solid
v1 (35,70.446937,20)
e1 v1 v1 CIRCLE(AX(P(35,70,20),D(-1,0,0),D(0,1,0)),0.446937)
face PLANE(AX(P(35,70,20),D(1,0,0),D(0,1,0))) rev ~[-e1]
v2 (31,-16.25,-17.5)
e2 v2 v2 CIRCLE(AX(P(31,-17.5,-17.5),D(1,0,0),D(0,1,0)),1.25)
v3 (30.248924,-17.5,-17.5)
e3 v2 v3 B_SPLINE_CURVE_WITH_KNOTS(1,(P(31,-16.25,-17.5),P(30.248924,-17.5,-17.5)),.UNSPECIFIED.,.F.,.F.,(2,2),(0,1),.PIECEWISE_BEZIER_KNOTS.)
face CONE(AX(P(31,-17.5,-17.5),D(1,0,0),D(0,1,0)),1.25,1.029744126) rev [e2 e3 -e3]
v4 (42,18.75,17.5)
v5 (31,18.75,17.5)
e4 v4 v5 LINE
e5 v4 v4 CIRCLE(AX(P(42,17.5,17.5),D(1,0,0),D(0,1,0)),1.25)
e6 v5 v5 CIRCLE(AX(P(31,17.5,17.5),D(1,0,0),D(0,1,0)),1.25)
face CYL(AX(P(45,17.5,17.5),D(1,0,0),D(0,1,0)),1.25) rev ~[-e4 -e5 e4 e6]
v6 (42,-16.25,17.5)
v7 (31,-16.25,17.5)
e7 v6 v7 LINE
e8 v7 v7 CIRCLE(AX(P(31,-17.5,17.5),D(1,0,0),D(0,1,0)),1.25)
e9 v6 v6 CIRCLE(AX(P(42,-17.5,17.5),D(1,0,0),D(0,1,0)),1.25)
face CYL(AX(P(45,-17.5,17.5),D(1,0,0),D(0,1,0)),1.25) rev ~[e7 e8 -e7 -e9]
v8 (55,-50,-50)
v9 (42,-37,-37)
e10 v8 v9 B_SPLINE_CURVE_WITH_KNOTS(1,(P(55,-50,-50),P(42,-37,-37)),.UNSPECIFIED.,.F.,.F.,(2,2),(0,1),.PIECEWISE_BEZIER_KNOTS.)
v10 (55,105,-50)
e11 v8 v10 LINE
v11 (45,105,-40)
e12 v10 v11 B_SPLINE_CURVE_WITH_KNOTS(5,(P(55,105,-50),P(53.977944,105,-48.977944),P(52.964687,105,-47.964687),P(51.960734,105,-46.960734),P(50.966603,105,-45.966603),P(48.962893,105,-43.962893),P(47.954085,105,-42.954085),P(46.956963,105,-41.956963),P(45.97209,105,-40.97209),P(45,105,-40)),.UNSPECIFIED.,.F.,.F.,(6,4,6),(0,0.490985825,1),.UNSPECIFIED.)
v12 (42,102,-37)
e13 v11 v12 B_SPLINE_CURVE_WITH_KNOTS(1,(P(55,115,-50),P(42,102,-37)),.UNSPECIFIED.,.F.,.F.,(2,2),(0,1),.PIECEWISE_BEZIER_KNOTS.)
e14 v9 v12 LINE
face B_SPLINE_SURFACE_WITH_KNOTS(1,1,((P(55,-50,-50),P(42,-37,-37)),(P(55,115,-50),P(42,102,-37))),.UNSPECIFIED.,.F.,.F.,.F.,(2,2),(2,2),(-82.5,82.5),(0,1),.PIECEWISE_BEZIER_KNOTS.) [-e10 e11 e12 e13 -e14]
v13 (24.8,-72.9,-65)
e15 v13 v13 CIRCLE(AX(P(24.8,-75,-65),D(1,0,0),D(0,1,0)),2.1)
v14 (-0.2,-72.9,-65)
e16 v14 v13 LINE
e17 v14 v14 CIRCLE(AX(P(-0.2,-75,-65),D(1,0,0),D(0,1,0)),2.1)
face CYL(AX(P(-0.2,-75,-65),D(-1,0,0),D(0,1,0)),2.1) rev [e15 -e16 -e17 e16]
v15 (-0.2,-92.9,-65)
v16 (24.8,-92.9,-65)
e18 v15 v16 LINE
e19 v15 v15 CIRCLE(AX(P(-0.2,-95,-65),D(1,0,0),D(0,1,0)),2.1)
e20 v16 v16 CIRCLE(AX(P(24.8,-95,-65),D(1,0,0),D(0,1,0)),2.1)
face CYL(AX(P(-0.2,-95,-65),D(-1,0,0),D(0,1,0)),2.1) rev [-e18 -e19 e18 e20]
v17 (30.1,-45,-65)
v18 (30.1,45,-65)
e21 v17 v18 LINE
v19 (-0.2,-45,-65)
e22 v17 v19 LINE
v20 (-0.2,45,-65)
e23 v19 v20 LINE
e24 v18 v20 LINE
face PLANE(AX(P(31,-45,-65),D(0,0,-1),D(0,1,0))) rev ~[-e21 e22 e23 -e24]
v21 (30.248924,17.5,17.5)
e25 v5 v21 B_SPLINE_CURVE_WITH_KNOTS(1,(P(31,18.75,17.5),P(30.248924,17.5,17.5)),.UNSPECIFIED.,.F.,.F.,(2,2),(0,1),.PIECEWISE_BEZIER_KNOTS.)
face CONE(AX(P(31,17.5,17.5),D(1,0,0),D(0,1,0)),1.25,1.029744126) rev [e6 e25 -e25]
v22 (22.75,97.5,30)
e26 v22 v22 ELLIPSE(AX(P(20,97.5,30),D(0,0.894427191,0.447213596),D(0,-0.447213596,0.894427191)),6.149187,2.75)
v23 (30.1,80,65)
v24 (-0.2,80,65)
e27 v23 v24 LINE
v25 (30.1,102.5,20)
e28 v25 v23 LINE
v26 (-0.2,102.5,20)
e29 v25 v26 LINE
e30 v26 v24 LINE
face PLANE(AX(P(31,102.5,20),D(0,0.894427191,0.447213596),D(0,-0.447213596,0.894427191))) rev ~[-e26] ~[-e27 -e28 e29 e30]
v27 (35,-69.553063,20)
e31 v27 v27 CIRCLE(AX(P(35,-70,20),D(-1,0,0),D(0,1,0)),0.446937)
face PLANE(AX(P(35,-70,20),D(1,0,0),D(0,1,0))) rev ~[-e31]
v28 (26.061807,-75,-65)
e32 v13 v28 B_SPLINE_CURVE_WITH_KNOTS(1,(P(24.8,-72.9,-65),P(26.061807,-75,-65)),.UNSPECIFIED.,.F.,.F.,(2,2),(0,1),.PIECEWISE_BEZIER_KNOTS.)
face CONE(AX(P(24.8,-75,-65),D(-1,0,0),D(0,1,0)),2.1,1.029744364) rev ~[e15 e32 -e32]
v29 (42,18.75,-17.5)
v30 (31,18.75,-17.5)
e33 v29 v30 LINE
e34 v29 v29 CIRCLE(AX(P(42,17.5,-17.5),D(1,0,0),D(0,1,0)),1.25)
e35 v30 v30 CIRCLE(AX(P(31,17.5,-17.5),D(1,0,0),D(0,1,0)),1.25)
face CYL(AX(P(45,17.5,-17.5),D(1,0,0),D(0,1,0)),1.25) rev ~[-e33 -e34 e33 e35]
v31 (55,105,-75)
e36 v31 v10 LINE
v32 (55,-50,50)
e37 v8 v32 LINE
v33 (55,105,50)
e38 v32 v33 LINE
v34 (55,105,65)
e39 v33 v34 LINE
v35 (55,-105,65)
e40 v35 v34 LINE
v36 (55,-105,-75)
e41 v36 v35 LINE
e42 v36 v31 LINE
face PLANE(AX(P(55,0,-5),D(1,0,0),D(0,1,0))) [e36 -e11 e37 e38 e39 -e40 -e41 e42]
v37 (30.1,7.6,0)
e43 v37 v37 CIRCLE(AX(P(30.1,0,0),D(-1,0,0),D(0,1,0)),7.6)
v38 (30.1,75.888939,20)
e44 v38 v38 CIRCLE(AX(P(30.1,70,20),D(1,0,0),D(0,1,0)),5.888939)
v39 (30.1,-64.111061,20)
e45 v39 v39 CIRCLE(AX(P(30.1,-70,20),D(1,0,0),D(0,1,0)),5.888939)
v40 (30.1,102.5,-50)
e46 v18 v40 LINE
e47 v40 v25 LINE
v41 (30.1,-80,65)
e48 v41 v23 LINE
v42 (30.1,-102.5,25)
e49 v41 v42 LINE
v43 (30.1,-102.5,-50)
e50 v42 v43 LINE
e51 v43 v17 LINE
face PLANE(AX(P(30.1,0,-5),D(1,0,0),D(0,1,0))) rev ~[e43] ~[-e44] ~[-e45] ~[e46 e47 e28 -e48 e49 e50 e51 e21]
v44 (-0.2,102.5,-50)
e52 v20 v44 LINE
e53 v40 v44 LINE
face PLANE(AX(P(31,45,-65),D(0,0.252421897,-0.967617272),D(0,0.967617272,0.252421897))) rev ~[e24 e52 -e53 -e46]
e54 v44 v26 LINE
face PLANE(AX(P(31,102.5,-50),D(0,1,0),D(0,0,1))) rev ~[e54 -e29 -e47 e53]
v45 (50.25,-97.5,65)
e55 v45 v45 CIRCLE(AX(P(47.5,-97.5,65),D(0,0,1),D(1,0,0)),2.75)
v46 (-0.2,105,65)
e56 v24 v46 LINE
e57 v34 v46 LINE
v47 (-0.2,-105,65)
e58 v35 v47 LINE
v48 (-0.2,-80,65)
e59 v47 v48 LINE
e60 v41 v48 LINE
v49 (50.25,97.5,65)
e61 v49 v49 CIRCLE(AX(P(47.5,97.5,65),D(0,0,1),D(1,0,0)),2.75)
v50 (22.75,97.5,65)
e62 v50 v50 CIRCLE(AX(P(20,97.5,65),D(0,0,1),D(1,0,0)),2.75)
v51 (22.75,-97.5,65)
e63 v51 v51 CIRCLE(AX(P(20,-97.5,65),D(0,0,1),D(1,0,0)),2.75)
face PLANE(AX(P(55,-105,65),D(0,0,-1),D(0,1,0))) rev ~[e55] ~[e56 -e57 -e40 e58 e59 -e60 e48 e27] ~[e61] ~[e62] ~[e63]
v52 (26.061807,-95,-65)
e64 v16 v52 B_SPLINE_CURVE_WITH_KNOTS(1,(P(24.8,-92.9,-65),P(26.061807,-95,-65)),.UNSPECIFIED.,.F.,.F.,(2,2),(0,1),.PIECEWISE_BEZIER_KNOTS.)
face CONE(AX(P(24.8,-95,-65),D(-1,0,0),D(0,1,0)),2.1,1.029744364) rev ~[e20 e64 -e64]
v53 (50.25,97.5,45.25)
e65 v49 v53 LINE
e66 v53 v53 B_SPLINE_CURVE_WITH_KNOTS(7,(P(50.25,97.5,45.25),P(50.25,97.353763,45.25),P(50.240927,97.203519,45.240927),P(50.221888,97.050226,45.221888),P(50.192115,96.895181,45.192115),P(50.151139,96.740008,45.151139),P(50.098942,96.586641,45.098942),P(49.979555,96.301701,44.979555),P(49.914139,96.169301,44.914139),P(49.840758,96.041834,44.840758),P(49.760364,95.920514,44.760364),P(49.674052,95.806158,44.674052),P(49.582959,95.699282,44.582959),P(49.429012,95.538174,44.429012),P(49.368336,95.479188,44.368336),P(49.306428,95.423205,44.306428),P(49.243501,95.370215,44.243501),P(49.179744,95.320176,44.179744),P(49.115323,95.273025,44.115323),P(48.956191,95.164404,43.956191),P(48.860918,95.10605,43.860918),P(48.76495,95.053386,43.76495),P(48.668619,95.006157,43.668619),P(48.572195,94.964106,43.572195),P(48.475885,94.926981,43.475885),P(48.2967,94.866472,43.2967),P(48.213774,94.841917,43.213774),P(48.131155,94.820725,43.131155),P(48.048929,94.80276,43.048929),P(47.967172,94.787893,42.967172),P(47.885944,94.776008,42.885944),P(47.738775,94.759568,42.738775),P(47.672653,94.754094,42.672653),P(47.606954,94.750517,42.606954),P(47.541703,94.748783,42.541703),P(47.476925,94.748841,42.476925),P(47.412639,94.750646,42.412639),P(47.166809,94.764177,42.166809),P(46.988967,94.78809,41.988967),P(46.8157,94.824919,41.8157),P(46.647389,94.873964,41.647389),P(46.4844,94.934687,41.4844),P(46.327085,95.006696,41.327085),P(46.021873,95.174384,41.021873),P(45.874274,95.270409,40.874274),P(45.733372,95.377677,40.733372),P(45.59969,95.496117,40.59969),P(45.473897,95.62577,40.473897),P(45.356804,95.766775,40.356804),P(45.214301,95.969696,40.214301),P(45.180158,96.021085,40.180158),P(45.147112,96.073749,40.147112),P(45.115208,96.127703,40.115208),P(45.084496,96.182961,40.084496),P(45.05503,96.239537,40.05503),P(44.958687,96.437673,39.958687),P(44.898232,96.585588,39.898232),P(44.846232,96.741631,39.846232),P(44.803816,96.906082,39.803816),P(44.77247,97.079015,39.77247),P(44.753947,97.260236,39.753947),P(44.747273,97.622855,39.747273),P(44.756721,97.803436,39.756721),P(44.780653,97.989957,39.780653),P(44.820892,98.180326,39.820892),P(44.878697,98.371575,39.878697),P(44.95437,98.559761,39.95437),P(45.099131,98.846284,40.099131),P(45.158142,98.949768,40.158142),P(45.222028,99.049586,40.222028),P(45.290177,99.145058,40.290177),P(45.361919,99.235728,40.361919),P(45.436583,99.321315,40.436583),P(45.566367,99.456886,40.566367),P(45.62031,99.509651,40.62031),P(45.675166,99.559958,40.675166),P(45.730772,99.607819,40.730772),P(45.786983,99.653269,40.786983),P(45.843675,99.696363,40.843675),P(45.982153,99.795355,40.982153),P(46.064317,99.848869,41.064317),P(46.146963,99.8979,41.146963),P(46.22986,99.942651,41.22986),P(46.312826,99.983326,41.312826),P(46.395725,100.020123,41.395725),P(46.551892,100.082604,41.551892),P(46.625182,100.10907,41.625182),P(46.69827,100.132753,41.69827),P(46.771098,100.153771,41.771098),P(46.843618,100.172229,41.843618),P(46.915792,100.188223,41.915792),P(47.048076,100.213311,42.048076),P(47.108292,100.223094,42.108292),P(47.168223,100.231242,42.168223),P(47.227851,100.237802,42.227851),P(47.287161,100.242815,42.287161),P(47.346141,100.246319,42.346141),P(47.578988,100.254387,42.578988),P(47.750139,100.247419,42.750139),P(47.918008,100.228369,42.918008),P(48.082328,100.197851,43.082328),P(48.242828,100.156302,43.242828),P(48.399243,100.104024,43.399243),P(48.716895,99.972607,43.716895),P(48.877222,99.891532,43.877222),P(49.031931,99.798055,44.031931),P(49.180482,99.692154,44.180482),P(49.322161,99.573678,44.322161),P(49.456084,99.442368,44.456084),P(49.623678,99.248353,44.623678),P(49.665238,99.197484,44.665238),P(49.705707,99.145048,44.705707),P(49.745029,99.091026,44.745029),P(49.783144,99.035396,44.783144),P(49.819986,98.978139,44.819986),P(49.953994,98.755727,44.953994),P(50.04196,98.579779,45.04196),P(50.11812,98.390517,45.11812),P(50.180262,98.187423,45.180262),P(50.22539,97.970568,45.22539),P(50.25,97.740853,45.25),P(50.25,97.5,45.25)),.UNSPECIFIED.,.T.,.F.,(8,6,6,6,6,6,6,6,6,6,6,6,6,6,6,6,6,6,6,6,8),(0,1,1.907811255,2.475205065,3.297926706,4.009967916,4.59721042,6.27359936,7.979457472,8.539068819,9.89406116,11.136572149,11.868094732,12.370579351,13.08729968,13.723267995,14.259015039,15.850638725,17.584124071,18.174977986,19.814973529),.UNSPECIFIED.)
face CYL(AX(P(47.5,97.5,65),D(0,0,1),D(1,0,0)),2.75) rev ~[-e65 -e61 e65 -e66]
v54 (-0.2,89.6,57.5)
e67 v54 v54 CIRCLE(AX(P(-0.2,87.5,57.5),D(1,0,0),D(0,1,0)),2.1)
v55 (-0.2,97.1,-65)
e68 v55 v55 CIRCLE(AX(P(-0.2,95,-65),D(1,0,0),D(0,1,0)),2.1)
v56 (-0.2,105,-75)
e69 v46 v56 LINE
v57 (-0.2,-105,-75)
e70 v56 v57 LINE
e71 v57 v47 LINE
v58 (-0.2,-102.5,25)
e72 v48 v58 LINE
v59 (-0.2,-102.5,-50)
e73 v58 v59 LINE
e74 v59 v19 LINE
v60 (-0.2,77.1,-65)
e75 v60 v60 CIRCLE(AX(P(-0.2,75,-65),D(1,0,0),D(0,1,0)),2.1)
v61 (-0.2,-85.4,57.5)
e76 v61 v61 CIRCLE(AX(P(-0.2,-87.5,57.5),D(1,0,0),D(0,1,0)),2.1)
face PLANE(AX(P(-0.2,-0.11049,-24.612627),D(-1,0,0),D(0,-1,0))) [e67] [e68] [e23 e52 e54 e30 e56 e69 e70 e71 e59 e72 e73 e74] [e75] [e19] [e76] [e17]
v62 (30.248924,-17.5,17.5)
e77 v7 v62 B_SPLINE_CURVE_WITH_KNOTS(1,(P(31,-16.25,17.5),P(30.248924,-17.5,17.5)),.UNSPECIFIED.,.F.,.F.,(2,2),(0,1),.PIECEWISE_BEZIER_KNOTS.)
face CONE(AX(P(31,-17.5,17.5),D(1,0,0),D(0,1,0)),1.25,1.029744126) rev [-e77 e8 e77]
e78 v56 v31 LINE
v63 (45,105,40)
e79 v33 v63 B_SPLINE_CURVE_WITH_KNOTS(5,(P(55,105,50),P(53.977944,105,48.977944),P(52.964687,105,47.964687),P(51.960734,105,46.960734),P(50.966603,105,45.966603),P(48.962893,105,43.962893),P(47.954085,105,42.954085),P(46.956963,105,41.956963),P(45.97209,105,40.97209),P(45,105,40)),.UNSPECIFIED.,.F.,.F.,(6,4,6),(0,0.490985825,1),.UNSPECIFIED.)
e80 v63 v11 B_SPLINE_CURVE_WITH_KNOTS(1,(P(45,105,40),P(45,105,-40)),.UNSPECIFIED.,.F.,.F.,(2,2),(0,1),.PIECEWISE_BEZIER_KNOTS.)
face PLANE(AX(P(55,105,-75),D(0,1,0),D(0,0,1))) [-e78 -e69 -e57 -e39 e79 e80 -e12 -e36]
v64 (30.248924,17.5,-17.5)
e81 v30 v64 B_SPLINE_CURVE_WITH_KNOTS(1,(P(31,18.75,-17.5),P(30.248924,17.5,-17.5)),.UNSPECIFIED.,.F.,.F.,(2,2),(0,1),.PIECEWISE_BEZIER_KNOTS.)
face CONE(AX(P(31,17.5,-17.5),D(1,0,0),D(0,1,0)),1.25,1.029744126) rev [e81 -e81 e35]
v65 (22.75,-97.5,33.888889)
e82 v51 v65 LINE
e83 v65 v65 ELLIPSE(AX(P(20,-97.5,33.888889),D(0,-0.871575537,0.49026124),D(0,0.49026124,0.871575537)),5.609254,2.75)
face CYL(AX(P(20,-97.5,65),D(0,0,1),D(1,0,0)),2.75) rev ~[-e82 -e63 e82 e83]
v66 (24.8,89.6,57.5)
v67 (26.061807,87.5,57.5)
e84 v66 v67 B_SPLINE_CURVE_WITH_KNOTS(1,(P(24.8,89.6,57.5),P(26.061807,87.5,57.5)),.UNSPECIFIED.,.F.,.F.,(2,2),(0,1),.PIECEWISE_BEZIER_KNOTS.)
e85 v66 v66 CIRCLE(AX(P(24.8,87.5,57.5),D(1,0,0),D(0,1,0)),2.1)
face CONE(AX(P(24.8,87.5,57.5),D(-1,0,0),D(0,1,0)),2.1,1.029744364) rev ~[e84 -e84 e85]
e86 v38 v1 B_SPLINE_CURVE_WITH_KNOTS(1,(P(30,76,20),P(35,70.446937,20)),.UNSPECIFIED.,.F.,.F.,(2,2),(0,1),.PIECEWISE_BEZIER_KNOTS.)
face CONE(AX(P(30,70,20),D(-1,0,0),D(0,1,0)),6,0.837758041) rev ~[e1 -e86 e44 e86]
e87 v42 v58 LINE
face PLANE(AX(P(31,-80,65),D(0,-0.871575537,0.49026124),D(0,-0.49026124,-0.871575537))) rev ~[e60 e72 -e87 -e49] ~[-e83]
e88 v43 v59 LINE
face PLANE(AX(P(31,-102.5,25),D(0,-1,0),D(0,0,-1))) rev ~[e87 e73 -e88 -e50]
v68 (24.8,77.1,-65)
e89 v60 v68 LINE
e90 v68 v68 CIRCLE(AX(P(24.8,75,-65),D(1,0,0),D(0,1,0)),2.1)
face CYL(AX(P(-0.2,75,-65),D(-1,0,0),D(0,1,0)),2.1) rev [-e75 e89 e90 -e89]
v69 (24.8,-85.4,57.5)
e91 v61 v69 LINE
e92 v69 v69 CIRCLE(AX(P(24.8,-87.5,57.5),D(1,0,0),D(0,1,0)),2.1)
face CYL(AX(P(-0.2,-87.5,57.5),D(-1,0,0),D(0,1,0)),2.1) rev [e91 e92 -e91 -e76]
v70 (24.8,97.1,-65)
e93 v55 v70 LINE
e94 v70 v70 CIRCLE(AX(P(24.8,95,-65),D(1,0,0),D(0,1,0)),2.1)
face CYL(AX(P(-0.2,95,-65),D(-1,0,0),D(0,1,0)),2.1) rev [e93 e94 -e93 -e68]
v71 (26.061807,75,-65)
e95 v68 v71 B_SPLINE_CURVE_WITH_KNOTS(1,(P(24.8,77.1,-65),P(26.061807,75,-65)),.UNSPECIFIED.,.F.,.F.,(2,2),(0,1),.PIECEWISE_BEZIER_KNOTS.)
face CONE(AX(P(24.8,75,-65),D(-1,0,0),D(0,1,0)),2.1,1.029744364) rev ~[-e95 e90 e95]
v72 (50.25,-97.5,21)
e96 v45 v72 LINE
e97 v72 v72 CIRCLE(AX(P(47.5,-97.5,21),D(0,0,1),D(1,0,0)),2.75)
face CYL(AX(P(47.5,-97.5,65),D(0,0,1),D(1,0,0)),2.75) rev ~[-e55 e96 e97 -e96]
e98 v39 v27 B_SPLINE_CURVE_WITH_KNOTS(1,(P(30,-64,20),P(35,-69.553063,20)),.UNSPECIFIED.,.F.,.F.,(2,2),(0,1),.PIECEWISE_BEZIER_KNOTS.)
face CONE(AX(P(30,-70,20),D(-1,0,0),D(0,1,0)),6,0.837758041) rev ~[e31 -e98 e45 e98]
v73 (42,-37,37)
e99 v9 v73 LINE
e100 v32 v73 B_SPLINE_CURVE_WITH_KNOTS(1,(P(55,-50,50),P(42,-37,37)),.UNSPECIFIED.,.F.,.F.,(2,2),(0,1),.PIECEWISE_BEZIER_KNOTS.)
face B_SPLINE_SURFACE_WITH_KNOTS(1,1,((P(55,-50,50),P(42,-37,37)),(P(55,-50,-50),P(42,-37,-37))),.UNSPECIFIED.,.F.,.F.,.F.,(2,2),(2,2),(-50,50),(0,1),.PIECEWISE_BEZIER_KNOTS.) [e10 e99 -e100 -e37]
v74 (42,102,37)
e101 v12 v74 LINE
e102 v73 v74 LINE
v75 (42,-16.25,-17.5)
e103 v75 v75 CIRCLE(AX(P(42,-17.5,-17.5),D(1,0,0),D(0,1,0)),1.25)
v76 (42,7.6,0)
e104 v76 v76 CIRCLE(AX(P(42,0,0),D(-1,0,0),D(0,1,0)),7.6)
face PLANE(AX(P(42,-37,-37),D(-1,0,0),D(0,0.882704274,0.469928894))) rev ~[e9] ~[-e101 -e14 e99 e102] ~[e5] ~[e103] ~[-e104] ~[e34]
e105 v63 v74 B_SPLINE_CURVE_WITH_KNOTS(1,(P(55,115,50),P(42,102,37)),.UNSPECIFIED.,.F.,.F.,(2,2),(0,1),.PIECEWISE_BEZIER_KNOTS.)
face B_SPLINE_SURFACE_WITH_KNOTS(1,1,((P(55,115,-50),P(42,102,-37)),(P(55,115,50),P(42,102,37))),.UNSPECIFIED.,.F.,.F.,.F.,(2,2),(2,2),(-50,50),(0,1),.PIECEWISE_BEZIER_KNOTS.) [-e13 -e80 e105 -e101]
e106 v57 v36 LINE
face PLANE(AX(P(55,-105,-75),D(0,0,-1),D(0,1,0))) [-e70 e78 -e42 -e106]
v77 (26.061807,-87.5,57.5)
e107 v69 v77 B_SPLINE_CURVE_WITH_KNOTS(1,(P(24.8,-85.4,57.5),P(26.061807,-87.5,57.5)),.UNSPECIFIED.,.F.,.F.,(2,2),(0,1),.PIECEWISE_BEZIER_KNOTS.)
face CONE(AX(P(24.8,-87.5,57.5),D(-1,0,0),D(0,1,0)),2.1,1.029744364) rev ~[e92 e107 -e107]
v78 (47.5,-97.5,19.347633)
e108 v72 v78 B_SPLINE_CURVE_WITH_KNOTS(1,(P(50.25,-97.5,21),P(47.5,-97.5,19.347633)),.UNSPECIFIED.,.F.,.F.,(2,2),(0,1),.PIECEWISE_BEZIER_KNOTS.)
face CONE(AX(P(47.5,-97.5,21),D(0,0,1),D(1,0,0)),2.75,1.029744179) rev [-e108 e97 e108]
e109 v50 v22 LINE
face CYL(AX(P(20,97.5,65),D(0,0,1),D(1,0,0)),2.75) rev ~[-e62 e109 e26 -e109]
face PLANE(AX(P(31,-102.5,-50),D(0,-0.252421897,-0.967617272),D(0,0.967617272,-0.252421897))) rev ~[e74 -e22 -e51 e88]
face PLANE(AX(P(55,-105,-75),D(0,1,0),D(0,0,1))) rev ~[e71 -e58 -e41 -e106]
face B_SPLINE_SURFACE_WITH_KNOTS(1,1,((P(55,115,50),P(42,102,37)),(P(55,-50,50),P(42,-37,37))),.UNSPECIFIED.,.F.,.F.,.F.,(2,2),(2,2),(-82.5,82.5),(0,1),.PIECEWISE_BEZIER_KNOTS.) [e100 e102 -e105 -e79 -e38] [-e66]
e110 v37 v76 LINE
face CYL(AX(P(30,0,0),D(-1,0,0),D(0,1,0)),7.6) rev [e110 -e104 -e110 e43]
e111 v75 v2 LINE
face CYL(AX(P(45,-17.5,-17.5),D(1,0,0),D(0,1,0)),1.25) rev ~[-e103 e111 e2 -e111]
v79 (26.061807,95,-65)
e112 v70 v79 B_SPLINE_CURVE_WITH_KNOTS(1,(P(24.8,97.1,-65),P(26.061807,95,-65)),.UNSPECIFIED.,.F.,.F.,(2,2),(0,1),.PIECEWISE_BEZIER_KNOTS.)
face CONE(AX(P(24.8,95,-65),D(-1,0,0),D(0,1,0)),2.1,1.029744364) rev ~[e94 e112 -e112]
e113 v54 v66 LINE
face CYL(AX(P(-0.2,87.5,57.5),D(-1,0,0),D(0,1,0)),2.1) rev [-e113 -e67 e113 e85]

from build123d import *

# Parameters (mm, degrees)
SKETCH013_W     = 210
SKETCH013_H     = 140
PAD009_DEPTH    = 24.9
SKETCH014_R     = 6
POCKET002_DEPTH = 5
POCKET002_TAPER = 48
SKETCH015_R     = 7.6
POCKET003_DEPTH = 32
PAD013_DEPTH    = 31.2
SKETCH027_R     = 2.1
HOLE005_DEPTH   = 25
HOLE005_TIPS_R  = 2.1
SKETCH030_R     = 2.75
HOLE008_DEPTH   = 44
HOLE008_TIPS_R  = 2.75
SKETCH032_W     = 165
SKETCH032_H     = 100
POCKET008_DEPTH = 13
POCKET008_TAPER = 45
SKETCH033_R     = 1.25
HOLE009_DEPTH   = 14
HOLE009_TIPS_R  = 1.25


with BuildPart() as part:
    # Sketch013 → Pad009 (new body)
    with BuildSketch(Plane.YZ.offset(55)):
        with Locations((0, -5)):
            Rectangle(SKETCH013_W, SKETCH013_H)
    extrude(amount=-PAD009_DEPTH)

    # Sketch014 → Pocket002 (cut)
    with BuildSketch(Plane.YZ.offset(30)):
        with Locations((-70, 20)):
            Circle(SKETCH014_R)
        with Locations((70, 20)):
            Circle(SKETCH014_R)
    extrude(amount=POCKET002_DEPTH, taper=POCKET002_TAPER, mode=Mode.SUBTRACT)

    # Sketch015 → Pocket003 (cut)
    with BuildSketch(Plane.YZ.offset(30)):
        Circle(SKETCH015_R)
    extrude(amount=POCKET003_DEPTH, mode=Mode.SUBTRACT)

    # Sketch023 → Pad013 (join)
    with BuildSketch(Plane.YZ.offset(31)):
        Polygon((-105, 65), (-80, 65), (-102.5, 25), (-102.5, -50), (-45, -65), (45, -65), (102.5, -50), (102.5, 20), (80, 65), (105, 65), (105, -75), (-105, -75), align=None)
    extrude(amount=-PAD013_DEPTH)

    # Sketch027 → Hole005 (cut)
    with BuildSketch(Plane.YZ.offset(-0.2)):
        with Locations((-95, -65)):
            Circle(SKETCH027_R)
        with Locations((-75, -65)):
            Circle(SKETCH027_R)
        with Locations((95, -65)):
            Circle(SKETCH027_R)
        with Locations((75, -65)):
            Circle(SKETCH027_R)
        with Locations((-87.5, 57.5)):
            Circle(SKETCH027_R)
        with Locations((87.5, 57.5)):
            Circle(SKETCH027_R)
    extrude(amount=HOLE005_DEPTH, mode=Mode.SUBTRACT)

    # Hole005 tips → Hole005 tip 1 section 0
    with BuildSketch(Plane.YZ.offset(24.8), mode=Mode.PRIVATE) as hole005_tip_1_s0:
        with Locations((-95, -65)):
            Circle(HOLE005_TIPS_R)
    loft([hole005_tip_1_s0.sketch, Vertex(26.061807, -95, -65)], mode=Mode.SUBTRACT)

    # Hole005 tips → Hole005 tip 2 section 0
    with BuildSketch(Plane.YZ.offset(24.8), mode=Mode.PRIVATE) as hole005_tip_2_s0:
        with Locations((-75, -65)):
            Circle(HOLE005_TIPS_R)
    loft([hole005_tip_2_s0.sketch, Vertex(26.061807, -75, -65)], mode=Mode.SUBTRACT)

    # Hole005 tips → Hole005 tip 3 section 0
    with BuildSketch(Plane.YZ.offset(24.8), mode=Mode.PRIVATE) as hole005_tip_3_s0:
        with Locations((95, -65)):
            Circle(HOLE005_TIPS_R)
    loft([hole005_tip_3_s0.sketch, Vertex(26.061807, 95, -65)], mode=Mode.SUBTRACT)

    # Hole005 tips → Hole005 tip 4 section 0
    with BuildSketch(Plane.YZ.offset(24.8), mode=Mode.PRIVATE) as hole005_tip_4_s0:
        with Locations((75, -65)):
            Circle(HOLE005_TIPS_R)
    loft([hole005_tip_4_s0.sketch, Vertex(26.061807, 75, -65)], mode=Mode.SUBTRACT)

    # Hole005 tips → Hole005 tip 5 section 0
    with BuildSketch(Plane.YZ.offset(24.8), mode=Mode.PRIVATE) as hole005_tip_5_s0:
        with Locations((-87.5, 57.5)):
            Circle(HOLE005_TIPS_R)
    loft([hole005_tip_5_s0.sketch, Vertex(26.061807, -87.5, 57.5)], mode=Mode.SUBTRACT)

    # Hole005 tips → Hole005 tip 6 section 0
    with BuildSketch(Plane.YZ.offset(24.8), mode=Mode.PRIVATE) as hole005_tip_6_s0:
        with Locations((87.5, 57.5)):
            Circle(HOLE005_TIPS_R)
    loft([hole005_tip_6_s0.sketch, Vertex(26.061807, 87.5, 57.5)], mode=Mode.SUBTRACT)

    # Sketch030 → Hole008 (cut)
    with BuildSketch(Plane.XY.offset(65)):
        with Locations((20, -97.5)):
            Circle(SKETCH030_R)
        with Locations((47.5, -97.5)):
            Circle(SKETCH030_R)
        with Locations((20, 97.5)):
            Circle(SKETCH030_R)
        with Locations((47.5, 97.5)):
            Circle(SKETCH030_R)
    extrude(amount=-HOLE008_DEPTH, mode=Mode.SUBTRACT)

    # Hole008 tips → Hole008 tip 1 section 0
    with BuildSketch(Plane.XY.offset(21), mode=Mode.PRIVATE) as hole008_tip_1_s0:
        with Locations((20, -97.5)):
            Circle(HOLE008_TIPS_R)
    loft([hole008_tip_1_s0.sketch, Vertex(20, -97.5, 19.347633)], mode=Mode.SUBTRACT)

    # Hole008 tips → Hole008 tip 2 section 0
    with BuildSketch(Plane.XY.offset(21), mode=Mode.PRIVATE) as hole008_tip_2_s0:
        with Locations((47.5, -97.5)):
            Circle(HOLE008_TIPS_R)
    loft([hole008_tip_2_s0.sketch, Vertex(47.5, -97.5, 19.347633)], mode=Mode.SUBTRACT)

    # Hole008 tips → Hole008 tip 3 section 0
    with BuildSketch(Plane.XY.offset(21), mode=Mode.PRIVATE) as hole008_tip_3_s0:
        with Locations((20, 97.5)):
            Circle(HOLE008_TIPS_R)
    loft([hole008_tip_3_s0.sketch, Vertex(20, 97.5, 19.347633)], mode=Mode.SUBTRACT)

    # Hole008 tips → Hole008 tip 4 section 0
    with BuildSketch(Plane.XY.offset(21), mode=Mode.PRIVATE) as hole008_tip_4_s0:
        with Locations((47.5, 97.5)):
            Circle(HOLE008_TIPS_R)
    loft([hole008_tip_4_s0.sketch, Vertex(47.5, 97.5, 19.347633)], mode=Mode.SUBTRACT)

    # Sketch032 → Pocket008 (cut)
    with BuildSketch(Plane.YZ.offset(55)):
        with Locations((32.5, 0)):
            Rectangle(SKETCH032_W, SKETCH032_H)
    extrude(amount=-POCKET008_DEPTH, taper=POCKET008_TAPER, mode=Mode.SUBTRACT)

    # Sketch033 → Hole009 (cut)
    with BuildSketch(Plane.YZ.offset(45)):
        with Locations((-17.5, 17.5)):
            Circle(SKETCH033_R)
        with Locations((17.5, 17.5)):
            Circle(SKETCH033_R)
        with Locations((-17.5, -17.5)):
            Circle(SKETCH033_R)
        with Locations((17.5, -17.5)):
            Circle(SKETCH033_R)
    extrude(amount=-HOLE009_DEPTH, mode=Mode.SUBTRACT)

    # Hole009 tips → Hole009 tip 1 section 0
    with BuildSketch(Plane.YZ.offset(31), mode=Mode.PRIVATE) as hole009_tip_1_s0:
        with Locations((-17.5, 17.5)):
            Circle(HOLE009_TIPS_R)
    loft([hole009_tip_1_s0.sketch, Vertex(30.248924, -17.5, 17.5)], mode=Mode.SUBTRACT)

    # Hole009 tips → Hole009 tip 2 section 0
    with BuildSketch(Plane.YZ.offset(31), mode=Mode.PRIVATE) as hole009_tip_2_s0:
        with Locations((17.5, 17.5)):
            Circle(HOLE009_TIPS_R)
    loft([hole009_tip_2_s0.sketch, Vertex(30.248924, 17.5, 17.5)], mode=Mode.SUBTRACT)

    # Hole009 tips → Hole009 tip 3 section 0
    with BuildSketch(Plane.YZ.offset(31), mode=Mode.PRIVATE) as hole009_tip_3_s0:
        with Locations((-17.5, -17.5)):
            Circle(HOLE009_TIPS_R)
    loft([hole009_tip_3_s0.sketch, Vertex(30.248924, -17.5, -17.5)], mode=Mode.SUBTRACT)

    # Hole009 tips → Hole009 tip 4 section 0
    with BuildSketch(Plane.YZ.offset(31), mode=Mode.PRIVATE) as hole009_tip_4_s0:
        with Locations((17.5, -17.5)):
            Circle(HOLE009_TIPS_R)
    loft([hole009_tip_4_s0.sketch, Vertex(30.248924, 17.5, -17.5)], mode=Mode.SUBTRACT)


solid = part.part
